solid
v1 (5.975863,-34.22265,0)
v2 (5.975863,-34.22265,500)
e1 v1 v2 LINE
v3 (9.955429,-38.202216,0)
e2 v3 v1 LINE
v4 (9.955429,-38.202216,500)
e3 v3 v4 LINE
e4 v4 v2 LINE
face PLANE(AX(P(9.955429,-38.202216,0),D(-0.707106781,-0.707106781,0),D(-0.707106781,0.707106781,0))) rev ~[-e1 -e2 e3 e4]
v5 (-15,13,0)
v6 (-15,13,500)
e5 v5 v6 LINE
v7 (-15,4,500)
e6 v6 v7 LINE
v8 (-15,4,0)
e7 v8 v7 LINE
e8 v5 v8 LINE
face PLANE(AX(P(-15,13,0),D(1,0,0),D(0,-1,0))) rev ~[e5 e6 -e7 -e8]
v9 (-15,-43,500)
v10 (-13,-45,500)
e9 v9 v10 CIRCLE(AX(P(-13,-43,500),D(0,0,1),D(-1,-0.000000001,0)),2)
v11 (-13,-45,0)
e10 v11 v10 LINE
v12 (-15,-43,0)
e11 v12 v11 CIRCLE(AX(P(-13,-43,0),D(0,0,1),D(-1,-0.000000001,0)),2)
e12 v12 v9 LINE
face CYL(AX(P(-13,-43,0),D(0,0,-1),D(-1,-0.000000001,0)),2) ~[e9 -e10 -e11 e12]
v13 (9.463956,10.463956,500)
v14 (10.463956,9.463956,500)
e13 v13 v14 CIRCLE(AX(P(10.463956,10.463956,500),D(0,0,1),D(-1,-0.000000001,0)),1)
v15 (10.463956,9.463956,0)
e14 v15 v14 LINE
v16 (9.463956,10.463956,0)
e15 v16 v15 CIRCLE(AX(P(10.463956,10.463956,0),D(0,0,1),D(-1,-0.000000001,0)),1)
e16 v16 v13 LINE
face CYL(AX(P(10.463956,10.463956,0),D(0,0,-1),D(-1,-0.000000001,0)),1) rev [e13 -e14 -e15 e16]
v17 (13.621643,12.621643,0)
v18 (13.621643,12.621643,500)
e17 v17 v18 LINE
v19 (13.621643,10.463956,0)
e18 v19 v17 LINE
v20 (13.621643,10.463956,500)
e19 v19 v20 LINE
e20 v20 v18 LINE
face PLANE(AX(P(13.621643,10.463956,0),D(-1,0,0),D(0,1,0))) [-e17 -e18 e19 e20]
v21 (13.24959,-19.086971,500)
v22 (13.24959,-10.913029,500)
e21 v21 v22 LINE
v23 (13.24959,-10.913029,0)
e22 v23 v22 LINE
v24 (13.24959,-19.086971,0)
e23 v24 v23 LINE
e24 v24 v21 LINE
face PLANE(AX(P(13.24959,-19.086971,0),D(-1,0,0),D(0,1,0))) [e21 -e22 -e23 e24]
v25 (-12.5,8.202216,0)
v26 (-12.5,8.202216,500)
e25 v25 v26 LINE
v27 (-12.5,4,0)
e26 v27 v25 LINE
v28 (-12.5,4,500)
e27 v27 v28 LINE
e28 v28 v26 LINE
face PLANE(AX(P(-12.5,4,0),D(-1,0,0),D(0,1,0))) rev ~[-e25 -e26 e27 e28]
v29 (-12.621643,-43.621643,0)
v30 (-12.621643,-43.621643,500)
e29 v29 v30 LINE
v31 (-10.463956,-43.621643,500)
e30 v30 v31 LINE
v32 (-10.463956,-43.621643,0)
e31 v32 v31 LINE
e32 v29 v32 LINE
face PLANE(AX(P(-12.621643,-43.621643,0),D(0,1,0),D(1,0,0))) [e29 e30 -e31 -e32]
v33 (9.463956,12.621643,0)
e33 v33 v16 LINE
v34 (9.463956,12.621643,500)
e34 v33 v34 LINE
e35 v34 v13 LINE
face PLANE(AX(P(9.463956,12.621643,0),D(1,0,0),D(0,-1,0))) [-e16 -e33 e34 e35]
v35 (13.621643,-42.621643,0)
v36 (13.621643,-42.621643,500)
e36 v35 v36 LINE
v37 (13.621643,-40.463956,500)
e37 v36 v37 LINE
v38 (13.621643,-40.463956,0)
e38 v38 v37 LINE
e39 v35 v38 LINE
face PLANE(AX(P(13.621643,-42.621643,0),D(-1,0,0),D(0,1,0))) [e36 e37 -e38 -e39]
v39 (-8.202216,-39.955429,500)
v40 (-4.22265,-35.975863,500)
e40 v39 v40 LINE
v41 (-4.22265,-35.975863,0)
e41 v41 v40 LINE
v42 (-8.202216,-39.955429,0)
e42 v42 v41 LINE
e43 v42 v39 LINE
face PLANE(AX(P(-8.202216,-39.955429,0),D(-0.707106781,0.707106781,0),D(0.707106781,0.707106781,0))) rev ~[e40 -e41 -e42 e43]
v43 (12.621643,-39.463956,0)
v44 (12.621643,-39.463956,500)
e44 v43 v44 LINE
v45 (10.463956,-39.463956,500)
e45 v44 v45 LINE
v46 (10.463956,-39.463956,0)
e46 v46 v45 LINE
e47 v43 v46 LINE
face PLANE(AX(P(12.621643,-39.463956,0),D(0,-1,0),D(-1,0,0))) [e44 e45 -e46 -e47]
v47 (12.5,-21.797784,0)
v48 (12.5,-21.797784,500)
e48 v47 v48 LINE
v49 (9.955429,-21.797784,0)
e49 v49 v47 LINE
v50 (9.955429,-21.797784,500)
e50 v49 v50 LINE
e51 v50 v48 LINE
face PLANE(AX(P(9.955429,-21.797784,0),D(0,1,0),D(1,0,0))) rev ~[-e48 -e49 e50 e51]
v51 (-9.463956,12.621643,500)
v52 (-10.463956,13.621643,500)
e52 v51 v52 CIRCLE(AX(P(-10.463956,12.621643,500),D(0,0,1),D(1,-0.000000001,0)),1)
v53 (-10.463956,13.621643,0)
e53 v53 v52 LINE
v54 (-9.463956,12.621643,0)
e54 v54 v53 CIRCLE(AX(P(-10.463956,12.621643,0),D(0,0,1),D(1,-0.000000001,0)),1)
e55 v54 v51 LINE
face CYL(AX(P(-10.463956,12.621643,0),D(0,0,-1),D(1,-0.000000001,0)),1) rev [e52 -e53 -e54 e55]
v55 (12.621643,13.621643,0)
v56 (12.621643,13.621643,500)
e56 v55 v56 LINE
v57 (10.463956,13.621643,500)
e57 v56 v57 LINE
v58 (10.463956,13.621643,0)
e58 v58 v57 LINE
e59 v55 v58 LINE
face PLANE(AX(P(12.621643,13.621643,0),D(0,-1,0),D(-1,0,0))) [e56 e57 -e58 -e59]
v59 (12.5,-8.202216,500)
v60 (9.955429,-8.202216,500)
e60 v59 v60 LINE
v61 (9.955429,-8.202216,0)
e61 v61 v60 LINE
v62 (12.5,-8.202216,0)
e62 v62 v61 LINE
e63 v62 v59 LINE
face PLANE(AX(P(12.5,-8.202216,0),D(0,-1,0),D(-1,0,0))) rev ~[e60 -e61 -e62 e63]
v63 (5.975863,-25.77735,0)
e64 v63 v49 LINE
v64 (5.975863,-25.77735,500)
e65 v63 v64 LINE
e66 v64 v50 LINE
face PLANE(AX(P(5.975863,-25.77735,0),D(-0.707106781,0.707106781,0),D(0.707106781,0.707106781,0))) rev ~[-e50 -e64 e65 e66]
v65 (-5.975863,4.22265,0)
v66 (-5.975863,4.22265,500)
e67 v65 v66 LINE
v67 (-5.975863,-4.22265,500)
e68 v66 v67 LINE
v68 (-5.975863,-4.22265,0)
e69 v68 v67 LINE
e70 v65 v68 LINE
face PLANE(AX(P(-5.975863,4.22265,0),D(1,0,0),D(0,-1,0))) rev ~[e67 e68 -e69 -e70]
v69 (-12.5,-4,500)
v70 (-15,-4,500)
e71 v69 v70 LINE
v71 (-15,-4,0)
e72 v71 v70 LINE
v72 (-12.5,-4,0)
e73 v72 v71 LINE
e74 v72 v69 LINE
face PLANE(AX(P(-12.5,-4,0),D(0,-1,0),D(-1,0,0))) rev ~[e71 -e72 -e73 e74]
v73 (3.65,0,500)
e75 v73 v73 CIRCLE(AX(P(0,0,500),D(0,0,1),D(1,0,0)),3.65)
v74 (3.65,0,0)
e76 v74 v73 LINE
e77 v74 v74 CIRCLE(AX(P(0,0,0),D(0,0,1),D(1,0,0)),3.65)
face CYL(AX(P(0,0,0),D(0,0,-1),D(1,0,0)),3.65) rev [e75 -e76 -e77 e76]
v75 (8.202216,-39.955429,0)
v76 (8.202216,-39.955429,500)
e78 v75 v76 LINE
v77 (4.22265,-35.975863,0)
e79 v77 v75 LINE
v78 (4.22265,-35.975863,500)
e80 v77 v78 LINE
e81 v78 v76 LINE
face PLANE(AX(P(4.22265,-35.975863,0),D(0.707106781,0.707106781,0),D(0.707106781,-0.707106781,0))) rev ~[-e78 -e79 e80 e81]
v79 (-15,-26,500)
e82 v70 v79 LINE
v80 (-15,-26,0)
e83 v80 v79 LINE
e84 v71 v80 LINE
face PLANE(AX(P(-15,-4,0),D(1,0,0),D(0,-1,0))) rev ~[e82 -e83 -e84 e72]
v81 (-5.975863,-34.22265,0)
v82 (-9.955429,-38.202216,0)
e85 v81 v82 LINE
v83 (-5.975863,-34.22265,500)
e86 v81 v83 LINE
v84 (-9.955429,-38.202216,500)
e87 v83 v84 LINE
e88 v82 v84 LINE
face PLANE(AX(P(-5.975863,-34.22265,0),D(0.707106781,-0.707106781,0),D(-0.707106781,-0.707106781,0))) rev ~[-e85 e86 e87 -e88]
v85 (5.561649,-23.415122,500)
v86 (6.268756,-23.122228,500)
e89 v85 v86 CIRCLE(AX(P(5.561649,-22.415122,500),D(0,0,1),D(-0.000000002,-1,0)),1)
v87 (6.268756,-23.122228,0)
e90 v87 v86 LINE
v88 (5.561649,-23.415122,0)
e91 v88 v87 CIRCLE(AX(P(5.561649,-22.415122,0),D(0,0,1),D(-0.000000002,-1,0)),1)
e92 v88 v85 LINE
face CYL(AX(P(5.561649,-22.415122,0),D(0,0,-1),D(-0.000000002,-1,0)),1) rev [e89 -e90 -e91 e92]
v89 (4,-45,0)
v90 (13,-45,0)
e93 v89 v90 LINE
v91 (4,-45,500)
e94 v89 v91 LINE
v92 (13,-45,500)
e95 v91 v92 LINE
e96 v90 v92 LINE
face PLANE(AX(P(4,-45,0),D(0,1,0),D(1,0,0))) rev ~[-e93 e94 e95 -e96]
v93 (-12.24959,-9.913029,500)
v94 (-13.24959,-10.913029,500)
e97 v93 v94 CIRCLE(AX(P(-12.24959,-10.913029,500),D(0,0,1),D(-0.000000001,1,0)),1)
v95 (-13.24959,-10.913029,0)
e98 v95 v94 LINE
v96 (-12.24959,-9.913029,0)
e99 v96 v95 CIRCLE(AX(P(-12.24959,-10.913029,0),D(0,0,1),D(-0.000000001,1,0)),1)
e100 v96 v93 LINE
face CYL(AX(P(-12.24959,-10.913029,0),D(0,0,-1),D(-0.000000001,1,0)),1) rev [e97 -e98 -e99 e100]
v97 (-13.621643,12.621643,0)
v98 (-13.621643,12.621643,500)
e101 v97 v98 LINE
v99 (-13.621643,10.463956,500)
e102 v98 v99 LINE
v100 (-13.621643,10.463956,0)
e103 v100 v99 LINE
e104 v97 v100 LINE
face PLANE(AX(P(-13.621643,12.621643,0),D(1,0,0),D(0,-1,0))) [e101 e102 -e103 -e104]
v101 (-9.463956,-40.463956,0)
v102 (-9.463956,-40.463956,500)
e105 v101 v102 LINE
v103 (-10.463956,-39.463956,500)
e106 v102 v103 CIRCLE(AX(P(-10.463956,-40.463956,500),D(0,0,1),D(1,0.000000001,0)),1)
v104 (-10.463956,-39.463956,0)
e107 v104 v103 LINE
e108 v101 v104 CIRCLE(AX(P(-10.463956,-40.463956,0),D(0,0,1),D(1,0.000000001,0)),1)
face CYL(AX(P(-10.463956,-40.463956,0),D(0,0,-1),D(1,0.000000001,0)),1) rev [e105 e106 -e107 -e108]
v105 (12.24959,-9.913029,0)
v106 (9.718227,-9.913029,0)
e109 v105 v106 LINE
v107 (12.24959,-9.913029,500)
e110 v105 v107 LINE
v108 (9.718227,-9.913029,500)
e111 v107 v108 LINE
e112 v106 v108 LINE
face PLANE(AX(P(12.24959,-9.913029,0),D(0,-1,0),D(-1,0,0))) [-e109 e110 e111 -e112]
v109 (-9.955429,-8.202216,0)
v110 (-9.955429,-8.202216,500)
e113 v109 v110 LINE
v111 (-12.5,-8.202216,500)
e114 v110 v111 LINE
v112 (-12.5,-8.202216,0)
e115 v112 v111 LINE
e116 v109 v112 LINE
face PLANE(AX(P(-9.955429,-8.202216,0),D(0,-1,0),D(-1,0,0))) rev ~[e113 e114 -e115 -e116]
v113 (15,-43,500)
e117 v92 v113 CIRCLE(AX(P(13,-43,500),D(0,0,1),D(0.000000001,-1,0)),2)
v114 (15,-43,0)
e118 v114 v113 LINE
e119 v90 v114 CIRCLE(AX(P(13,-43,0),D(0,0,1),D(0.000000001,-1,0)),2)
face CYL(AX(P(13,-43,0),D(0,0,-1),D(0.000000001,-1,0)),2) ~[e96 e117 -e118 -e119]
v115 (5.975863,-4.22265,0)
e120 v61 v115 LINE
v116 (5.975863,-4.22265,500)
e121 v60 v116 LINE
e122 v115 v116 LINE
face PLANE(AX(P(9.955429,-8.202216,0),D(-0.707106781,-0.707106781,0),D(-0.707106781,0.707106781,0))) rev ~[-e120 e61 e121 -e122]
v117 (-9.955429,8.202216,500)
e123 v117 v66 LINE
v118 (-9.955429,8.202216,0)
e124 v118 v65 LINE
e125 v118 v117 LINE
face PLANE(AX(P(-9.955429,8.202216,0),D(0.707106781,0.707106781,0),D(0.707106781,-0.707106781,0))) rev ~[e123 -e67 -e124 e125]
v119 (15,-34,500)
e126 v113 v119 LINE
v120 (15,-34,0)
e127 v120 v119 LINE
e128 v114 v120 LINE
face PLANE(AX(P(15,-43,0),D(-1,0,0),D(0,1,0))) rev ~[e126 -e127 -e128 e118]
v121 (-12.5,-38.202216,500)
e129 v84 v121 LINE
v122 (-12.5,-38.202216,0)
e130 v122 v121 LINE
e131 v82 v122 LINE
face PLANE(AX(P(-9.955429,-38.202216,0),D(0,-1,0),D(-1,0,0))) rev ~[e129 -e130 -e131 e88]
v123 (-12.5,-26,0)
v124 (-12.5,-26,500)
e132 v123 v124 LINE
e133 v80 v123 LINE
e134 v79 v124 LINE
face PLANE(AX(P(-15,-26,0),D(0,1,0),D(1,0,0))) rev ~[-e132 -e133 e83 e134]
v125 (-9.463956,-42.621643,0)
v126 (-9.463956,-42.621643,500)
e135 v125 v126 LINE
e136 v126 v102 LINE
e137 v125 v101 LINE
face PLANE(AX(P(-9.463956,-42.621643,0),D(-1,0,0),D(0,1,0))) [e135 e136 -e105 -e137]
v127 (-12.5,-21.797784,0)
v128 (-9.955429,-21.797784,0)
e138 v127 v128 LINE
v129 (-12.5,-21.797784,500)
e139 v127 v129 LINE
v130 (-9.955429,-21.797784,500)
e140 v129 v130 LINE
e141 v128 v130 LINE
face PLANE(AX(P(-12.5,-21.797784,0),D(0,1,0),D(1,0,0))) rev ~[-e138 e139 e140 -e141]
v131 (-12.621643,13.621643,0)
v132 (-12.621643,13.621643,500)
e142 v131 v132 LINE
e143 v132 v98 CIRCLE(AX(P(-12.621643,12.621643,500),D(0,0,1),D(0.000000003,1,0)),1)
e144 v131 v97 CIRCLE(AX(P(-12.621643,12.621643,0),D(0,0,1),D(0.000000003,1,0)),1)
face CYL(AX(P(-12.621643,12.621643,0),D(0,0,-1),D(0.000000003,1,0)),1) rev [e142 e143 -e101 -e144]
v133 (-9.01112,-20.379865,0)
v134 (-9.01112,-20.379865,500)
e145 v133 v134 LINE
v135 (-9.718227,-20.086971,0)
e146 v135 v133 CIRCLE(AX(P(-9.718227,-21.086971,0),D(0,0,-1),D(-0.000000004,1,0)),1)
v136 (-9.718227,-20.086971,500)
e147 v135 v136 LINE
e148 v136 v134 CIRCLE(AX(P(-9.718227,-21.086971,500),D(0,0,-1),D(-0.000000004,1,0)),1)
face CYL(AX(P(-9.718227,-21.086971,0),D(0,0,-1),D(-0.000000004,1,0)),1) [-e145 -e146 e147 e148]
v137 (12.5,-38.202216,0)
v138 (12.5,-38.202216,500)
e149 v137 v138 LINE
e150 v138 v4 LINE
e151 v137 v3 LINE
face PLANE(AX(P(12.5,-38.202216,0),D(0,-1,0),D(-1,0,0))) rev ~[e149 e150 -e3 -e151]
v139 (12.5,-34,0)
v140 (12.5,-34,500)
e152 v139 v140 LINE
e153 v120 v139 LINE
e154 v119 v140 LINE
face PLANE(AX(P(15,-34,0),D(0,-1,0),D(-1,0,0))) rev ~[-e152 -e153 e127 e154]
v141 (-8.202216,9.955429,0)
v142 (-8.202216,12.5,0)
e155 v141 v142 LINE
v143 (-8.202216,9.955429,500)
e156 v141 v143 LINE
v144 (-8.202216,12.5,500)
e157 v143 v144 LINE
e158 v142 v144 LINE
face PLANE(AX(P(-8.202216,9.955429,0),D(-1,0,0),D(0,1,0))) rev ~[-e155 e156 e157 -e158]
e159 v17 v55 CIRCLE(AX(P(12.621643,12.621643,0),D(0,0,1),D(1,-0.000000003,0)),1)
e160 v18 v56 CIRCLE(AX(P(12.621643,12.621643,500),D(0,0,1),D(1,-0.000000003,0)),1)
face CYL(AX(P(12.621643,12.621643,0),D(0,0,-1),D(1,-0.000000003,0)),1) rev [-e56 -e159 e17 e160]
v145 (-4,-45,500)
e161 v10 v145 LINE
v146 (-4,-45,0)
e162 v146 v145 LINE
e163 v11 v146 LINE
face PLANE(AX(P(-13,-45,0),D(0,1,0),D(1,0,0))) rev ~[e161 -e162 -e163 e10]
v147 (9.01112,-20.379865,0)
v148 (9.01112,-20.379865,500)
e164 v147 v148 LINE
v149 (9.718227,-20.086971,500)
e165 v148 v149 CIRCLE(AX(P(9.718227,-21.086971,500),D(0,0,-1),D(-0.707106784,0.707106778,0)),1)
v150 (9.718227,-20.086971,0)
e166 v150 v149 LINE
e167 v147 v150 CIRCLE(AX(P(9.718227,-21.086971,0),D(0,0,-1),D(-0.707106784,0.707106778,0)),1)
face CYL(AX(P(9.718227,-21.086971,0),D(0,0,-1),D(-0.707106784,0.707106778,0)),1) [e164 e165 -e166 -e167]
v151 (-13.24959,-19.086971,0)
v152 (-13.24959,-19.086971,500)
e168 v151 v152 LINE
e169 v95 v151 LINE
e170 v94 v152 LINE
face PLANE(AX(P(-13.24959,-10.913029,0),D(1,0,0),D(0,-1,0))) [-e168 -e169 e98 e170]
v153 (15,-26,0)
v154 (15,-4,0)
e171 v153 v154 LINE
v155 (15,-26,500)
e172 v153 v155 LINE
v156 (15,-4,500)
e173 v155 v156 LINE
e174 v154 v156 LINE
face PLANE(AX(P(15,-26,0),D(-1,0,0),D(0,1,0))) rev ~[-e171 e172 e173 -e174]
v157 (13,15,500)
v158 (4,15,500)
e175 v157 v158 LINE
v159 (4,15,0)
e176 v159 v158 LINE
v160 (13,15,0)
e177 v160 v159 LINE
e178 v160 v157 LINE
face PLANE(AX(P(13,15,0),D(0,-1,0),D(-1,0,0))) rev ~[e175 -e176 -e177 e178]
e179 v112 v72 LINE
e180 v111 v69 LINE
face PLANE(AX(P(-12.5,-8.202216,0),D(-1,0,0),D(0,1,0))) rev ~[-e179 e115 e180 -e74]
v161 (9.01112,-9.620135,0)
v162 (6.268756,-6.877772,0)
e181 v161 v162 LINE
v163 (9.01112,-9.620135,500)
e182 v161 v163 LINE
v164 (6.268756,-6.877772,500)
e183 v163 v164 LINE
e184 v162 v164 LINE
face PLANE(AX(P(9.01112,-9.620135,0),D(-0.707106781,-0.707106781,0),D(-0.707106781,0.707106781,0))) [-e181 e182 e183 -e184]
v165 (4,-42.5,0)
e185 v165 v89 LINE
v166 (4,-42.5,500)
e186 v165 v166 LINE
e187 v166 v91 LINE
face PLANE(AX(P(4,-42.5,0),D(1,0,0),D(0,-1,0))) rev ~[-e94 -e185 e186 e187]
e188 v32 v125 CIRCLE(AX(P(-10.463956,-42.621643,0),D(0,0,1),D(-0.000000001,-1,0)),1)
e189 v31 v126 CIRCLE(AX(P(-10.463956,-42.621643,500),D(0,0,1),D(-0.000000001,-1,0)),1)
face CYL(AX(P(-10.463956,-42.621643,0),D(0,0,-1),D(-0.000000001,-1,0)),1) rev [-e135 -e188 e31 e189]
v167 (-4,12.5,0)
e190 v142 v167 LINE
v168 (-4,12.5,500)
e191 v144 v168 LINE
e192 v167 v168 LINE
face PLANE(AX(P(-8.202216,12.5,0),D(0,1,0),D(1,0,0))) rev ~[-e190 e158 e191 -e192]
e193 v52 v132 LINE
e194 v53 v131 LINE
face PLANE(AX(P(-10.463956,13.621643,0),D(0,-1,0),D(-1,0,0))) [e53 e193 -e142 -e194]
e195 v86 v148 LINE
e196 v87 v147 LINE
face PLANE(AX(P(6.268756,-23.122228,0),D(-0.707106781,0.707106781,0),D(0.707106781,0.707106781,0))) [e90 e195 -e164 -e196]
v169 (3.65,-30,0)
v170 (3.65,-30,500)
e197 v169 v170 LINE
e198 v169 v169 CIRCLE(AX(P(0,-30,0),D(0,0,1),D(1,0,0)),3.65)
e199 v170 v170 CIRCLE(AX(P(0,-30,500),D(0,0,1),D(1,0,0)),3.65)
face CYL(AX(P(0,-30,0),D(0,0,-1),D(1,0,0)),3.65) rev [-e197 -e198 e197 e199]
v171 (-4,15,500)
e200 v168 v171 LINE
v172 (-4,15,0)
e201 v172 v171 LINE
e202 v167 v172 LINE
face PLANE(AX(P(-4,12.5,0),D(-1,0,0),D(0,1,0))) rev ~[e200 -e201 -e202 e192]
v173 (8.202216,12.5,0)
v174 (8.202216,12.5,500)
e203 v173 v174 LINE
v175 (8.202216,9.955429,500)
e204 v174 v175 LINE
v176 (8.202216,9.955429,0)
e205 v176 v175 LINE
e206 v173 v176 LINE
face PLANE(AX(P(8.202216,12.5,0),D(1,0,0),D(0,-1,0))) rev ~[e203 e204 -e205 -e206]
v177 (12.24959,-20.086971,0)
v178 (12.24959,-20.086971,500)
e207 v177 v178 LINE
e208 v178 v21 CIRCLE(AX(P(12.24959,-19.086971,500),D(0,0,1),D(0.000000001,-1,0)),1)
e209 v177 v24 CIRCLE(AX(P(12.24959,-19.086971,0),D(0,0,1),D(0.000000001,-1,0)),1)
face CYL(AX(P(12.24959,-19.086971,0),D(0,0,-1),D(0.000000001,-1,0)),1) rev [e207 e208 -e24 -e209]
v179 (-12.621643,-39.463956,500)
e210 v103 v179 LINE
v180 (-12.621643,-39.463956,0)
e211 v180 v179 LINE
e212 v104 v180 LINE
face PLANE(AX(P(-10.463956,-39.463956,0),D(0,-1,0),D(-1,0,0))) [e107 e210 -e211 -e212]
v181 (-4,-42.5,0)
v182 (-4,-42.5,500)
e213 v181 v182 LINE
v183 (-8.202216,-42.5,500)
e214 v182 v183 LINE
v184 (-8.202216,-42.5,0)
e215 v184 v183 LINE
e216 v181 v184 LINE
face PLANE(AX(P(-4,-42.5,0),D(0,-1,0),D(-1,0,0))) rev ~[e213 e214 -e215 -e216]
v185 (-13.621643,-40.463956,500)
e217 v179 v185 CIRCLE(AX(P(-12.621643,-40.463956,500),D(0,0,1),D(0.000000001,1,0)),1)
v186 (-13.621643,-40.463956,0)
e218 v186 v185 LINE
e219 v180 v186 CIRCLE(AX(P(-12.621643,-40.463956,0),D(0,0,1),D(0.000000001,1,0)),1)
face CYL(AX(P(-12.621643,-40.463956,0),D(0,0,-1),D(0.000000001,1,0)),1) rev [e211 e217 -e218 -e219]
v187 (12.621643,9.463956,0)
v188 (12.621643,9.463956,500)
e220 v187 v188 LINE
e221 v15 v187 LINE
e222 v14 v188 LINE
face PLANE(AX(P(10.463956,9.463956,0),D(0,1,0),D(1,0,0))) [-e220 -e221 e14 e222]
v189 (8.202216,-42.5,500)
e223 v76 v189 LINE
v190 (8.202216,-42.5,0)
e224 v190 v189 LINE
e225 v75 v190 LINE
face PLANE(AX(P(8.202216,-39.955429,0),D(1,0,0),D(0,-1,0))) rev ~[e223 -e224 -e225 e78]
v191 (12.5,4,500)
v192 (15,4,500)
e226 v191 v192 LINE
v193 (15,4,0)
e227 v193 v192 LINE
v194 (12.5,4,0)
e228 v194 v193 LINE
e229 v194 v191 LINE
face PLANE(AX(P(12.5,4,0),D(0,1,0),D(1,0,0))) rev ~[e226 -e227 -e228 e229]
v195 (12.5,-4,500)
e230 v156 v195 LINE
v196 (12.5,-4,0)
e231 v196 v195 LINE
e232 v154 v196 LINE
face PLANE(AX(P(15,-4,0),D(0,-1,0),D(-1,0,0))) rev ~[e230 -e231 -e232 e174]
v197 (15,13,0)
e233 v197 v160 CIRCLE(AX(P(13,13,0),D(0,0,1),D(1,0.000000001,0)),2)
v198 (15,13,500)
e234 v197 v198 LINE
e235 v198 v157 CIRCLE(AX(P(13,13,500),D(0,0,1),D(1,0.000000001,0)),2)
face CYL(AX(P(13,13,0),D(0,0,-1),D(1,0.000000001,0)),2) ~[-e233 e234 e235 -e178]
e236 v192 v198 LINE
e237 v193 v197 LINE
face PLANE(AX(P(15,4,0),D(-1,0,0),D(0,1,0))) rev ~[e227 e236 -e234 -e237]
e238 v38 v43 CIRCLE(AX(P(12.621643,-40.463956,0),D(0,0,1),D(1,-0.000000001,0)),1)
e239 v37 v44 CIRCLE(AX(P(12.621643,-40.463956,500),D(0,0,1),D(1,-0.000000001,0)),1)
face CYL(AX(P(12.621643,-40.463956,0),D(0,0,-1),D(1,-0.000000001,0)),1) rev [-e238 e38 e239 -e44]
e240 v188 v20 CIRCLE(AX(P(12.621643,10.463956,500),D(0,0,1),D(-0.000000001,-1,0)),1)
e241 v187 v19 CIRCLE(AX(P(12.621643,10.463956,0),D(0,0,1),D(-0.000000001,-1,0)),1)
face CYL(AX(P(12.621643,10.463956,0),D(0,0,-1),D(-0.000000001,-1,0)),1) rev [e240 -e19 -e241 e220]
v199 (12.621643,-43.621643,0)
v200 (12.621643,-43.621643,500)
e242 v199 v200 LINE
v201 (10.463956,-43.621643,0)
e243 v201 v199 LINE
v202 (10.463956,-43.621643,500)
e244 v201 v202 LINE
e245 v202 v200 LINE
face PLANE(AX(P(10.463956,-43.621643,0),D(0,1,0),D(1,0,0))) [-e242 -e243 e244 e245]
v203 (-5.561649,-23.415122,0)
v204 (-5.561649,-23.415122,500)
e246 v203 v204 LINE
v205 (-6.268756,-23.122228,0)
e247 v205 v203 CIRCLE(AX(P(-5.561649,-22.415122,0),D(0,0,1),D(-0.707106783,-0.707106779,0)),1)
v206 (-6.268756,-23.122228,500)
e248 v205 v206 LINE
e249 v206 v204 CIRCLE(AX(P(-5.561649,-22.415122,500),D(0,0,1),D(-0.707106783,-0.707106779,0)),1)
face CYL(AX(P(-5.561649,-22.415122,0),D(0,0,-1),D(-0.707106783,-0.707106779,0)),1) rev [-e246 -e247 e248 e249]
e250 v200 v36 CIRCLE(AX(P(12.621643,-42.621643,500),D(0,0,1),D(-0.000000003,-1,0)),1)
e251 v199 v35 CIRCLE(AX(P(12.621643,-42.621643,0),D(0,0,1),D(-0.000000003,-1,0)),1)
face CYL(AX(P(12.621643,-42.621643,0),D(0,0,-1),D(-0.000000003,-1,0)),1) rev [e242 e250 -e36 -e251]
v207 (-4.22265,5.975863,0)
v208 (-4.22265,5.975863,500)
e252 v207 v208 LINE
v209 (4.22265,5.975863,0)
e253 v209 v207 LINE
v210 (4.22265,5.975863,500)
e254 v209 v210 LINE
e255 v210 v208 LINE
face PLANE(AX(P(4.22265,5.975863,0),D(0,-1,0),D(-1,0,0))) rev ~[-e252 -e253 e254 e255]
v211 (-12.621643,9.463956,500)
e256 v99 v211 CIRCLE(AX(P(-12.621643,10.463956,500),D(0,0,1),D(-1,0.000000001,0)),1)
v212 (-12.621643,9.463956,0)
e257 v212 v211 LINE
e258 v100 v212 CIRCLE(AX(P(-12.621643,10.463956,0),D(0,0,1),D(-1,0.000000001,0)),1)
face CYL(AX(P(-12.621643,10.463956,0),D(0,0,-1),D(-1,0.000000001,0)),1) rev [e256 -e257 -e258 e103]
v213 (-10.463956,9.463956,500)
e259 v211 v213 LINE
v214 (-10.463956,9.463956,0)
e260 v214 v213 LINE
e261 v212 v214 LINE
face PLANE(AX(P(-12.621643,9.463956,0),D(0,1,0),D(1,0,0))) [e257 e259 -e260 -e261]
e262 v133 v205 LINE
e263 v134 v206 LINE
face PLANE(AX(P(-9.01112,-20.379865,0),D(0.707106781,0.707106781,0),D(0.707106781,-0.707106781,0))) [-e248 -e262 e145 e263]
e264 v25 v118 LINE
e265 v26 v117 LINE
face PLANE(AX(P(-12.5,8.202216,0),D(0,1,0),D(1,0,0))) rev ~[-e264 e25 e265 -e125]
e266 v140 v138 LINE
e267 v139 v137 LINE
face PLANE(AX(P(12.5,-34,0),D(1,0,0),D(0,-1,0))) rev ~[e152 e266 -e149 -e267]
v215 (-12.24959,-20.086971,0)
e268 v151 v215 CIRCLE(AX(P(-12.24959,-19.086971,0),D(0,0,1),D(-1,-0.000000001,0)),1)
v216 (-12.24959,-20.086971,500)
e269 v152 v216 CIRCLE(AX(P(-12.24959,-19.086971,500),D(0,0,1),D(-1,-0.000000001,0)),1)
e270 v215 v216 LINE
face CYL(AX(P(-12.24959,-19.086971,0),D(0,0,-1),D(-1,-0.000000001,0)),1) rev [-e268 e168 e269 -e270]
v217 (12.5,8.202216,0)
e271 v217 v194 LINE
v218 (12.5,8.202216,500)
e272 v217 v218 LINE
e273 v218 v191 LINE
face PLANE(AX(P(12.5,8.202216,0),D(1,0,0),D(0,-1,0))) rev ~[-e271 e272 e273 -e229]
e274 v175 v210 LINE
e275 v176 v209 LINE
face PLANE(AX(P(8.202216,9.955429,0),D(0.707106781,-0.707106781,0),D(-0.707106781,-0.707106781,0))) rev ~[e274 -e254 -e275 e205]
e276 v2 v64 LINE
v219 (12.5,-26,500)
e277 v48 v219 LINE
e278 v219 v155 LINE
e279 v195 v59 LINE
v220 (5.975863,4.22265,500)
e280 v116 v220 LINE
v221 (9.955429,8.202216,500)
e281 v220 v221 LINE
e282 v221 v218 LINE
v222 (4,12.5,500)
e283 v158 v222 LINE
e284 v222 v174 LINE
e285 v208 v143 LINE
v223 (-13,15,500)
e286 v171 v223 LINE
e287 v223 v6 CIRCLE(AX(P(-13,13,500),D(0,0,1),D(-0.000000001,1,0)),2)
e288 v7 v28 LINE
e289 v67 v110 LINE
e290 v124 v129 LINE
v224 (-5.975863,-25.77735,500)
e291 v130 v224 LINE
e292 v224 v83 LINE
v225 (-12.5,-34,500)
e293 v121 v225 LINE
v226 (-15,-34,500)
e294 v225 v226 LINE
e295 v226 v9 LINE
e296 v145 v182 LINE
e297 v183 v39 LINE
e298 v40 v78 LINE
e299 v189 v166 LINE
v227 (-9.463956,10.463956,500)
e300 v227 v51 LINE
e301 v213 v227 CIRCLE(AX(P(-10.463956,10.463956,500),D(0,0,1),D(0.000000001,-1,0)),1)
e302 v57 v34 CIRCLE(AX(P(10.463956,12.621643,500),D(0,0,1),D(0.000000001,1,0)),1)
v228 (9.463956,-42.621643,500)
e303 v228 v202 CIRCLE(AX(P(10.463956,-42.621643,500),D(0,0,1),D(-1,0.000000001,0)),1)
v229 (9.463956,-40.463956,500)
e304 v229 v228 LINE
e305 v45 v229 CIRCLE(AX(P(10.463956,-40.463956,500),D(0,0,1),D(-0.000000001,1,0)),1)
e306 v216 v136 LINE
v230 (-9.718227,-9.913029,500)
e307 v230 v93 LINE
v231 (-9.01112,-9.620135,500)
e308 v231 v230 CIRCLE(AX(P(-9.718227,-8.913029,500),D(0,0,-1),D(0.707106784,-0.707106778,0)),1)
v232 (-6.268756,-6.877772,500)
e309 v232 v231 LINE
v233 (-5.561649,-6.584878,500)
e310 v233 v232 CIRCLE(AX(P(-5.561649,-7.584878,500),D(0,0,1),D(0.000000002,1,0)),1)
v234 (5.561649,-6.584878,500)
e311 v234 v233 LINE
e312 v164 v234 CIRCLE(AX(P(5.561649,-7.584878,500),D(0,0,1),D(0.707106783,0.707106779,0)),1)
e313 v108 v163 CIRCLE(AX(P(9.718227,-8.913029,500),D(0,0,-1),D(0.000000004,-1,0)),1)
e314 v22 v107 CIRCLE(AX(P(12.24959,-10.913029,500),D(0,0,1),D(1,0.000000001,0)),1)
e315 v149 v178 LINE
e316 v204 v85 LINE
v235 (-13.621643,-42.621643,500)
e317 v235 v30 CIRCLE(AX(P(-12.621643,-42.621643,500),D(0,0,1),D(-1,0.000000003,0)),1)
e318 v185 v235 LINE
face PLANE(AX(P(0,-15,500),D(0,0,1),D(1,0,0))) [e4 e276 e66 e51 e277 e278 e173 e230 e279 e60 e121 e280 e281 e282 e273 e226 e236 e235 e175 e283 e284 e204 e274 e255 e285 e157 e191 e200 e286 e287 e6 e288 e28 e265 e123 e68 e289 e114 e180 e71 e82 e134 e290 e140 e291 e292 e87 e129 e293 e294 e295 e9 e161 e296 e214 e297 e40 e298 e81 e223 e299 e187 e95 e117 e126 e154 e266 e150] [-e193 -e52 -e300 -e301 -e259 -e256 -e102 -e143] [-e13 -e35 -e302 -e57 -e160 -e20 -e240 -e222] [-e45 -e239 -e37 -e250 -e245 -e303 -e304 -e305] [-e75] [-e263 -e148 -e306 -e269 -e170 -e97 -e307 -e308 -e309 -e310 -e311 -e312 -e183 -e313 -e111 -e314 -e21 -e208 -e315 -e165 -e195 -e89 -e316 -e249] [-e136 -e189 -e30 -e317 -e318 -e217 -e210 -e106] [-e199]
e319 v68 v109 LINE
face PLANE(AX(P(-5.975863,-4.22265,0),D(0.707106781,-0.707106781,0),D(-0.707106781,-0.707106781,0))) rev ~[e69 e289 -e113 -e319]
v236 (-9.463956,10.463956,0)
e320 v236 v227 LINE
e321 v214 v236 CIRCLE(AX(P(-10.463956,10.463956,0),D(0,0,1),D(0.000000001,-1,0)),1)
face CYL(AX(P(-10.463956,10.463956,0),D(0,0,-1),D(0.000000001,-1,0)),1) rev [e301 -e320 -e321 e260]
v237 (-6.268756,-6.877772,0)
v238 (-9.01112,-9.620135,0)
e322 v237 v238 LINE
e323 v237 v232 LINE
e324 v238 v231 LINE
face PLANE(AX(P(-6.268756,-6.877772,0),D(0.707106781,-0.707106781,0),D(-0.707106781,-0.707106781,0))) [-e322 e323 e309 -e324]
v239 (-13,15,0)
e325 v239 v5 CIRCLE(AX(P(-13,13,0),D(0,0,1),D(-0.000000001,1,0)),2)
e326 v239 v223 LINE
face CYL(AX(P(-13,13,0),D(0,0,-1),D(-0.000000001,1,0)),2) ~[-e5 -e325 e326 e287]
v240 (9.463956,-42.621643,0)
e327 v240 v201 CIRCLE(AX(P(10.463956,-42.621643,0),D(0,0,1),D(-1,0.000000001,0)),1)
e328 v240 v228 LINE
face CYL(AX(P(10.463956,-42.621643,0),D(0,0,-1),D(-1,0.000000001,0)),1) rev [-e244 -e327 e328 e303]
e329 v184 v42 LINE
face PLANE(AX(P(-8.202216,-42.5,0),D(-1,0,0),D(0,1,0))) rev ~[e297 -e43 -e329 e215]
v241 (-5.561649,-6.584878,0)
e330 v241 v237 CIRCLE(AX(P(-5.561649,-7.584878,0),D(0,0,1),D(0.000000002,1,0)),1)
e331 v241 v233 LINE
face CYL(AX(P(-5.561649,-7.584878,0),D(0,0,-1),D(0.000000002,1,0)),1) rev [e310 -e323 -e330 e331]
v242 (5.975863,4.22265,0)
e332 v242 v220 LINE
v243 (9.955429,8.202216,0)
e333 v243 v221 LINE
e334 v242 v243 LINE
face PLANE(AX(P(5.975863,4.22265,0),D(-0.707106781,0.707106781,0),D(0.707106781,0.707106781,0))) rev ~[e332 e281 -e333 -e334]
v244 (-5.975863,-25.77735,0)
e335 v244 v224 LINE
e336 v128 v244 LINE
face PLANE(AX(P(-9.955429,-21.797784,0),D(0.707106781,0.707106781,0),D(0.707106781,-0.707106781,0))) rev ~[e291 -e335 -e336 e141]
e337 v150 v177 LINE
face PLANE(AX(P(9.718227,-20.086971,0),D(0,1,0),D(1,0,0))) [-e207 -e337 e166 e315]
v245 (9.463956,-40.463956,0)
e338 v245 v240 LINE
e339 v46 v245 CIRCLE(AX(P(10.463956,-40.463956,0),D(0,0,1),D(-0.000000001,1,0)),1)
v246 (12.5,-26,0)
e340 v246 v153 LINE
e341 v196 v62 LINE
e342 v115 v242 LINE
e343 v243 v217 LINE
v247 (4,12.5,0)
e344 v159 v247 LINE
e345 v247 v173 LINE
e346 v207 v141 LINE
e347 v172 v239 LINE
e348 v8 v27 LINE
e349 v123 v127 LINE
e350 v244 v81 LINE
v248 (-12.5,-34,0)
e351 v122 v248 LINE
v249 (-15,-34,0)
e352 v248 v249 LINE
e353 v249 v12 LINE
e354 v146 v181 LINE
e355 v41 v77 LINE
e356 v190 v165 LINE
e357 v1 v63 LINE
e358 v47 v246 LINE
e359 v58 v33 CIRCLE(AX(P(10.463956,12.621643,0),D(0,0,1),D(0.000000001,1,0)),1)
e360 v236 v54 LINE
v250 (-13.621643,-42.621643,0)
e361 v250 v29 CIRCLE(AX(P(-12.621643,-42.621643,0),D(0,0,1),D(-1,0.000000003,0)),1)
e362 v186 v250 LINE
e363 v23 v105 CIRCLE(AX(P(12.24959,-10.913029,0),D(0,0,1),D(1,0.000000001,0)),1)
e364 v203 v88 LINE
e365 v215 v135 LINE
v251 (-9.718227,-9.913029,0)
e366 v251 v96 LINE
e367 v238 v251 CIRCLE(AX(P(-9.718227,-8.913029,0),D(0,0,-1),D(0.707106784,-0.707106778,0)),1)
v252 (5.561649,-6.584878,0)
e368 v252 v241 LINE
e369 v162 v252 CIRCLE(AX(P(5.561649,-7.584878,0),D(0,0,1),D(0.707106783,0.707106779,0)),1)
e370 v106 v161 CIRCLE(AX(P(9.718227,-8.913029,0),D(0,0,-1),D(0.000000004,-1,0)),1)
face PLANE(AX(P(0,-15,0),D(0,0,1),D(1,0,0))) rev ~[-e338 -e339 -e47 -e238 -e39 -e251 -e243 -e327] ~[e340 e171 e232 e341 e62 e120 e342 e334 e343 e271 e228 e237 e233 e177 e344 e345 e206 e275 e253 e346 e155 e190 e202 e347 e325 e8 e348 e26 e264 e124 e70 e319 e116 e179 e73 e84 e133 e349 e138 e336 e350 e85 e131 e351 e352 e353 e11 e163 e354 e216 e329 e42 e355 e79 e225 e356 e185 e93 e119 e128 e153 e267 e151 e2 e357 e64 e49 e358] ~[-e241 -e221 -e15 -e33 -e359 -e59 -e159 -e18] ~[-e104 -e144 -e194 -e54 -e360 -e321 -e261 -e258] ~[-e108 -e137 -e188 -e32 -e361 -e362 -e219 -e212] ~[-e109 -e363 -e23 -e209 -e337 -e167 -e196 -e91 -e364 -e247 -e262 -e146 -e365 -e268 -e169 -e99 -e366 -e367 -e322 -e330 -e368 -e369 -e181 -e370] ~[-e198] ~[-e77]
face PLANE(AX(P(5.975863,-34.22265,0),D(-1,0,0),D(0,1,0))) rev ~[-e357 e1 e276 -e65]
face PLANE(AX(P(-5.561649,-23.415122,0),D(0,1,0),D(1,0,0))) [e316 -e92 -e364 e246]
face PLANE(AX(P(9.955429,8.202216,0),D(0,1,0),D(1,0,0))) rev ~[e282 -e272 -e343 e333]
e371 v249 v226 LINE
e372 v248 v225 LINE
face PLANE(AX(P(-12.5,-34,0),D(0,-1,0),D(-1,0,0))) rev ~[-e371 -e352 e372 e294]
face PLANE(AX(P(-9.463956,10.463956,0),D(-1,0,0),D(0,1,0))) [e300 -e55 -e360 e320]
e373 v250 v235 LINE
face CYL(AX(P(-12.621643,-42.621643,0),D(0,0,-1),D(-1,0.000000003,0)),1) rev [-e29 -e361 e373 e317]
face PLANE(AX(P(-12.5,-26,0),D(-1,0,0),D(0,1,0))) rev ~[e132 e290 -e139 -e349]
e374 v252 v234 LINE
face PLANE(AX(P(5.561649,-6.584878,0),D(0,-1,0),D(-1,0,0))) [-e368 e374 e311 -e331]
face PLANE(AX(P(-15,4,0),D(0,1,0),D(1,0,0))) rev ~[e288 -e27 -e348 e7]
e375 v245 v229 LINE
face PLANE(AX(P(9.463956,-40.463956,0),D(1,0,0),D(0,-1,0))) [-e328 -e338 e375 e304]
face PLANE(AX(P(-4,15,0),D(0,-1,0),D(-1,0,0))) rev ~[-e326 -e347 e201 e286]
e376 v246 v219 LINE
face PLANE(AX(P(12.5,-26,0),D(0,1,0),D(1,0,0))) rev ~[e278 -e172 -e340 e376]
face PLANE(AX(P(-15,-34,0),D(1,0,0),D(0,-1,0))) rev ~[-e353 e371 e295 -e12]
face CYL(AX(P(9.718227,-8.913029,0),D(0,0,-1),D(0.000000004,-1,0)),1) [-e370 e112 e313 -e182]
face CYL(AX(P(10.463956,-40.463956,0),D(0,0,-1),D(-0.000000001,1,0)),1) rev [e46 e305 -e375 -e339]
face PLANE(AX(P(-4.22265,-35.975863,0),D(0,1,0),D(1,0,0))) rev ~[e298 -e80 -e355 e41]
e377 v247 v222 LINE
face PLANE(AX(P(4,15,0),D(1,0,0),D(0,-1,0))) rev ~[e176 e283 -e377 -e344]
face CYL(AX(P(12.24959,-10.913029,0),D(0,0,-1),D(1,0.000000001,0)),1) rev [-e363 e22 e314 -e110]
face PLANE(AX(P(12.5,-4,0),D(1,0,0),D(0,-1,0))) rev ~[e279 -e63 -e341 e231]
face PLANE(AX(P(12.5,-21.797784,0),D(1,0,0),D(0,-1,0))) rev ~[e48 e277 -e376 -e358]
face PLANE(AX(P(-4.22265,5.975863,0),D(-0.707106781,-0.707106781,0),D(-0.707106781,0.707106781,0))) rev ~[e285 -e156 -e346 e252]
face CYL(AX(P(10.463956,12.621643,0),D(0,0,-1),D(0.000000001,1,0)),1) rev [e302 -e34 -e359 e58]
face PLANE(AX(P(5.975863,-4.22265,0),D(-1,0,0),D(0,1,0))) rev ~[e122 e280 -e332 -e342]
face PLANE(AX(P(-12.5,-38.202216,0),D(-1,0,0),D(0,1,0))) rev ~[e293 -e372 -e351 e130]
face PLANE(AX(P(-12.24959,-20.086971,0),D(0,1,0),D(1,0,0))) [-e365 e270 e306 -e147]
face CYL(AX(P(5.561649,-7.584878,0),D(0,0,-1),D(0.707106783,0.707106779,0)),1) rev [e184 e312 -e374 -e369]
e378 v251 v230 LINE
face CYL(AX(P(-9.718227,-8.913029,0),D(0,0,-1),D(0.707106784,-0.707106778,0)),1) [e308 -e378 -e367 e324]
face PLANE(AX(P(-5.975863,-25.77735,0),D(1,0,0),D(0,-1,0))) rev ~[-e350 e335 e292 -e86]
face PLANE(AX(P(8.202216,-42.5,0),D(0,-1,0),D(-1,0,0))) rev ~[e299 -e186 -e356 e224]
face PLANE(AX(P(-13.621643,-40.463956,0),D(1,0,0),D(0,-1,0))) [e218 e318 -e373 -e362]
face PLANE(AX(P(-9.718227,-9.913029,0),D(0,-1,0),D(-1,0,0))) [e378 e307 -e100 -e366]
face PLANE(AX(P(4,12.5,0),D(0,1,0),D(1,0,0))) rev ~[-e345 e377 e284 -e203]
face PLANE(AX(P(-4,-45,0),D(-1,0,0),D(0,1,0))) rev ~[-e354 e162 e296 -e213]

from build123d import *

# Parameters (mm, degrees)
SKETCH1_R           = 3.65
BOSS_EXTRUDE1_DEPTH = 500


with BuildPart() as part:
    # Sketch1 → Boss-Extrude1 (new body)
    with BuildSketch(Plane.XY):
        with BuildLine():
            Line((-15, -34), (-15, -43))
            ThreePointArc((-15, -43), (-14.414213562, -44.414213562), (-13, -45))
            Line((-13, -45), (-4, -45))
            Line((-4, -45), (-4, -42.5))
            Line((-4, -42.5), (-8.202216073, -42.5))
            Line((-8.202216073, -42.5), (-8.202216073, -39.955429293))
            Line((-8.202216073, -39.955429293), (-4.222649634, -35.975862854))
            Line((-4.222649634, -35.975862854), (4.222649634, -35.975862854))
            Line((4.222649634, -35.975862854), (8.202216073, -39.955429293))
            Line((8.202216073, -39.955429293), (8.202216073, -42.5))
            Line((8.202216073, -42.5), (4, -42.5))
            Line((4, -42.5), (4, -45))
            Line((4, -45), (13, -45))
            ThreePointArc((13, -45), (14.414213562, -44.414213562), (15, -43))
            Line((15, -43), (15, -34))
            Line((15, -34), (12.5, -34))
            Line((12.5, -34), (12.5, -38.202216073))
            Line((12.5, -38.202216073), (9.955429293, -38.202216073))
            Line((9.955429293, -38.202216073), (5.975862854, -34.222649634))
            Line((5.975862854, -34.222649634), (5.975862854, -25.777350366))
            Line((5.975862854, -25.777350366), (9.955429293, -21.797783927))
            Line((9.955429293, -21.797783927), (12.5, -21.797783927))
            Line((12.5, -21.797783927), (12.5, -26))
            Line((12.5, -26), (15, -26))
            Line((15, -26), (15, -4))
            Line((15, -4), (12.5, -4))
            Line((12.5, -4), (12.5, -8.202216073))
            Line((12.5, -8.202216073), (9.955429293, -8.202216073))
            Line((9.955429293, -8.202216073), (5.975862854, -4.222649634))
            Line((5.975862854, -4.222649634), (5.975862854, 4.222649634))
            Line((5.975862854, 4.222649634), (9.955429293, 8.202216073))
            Line((9.955429293, 8.202216073), (12.5, 8.202216073))
            Line((12.5, 8.202216073), (12.5, 4))
            Line((12.5, 4), (15, 4))
            Line((15, 4), (15, 13))
            ThreePointArc((15, 13), (14.414213562, 14.414213562), (13, 15))
            Line((13, 15), (4, 15))
            Line((4, 15), (4, 12.5))
            Line((4, 12.5), (8.202216073, 12.5))
            Line((8.202216073, 12.5), (8.202216073, 9.955429293))
            Line((8.202216073, 9.955429293), (4.222649634, 5.975862854))
            Line((4.222649634, 5.975862854), (-4.222649634, 5.975862854))
            Line((-4.222649634, 5.975862854), (-8.202216073, 9.955429293))
            Line((-8.202216073, 9.955429293), (-8.202216073, 12.5))
            Line((-8.202216073, 12.5), (-4, 12.5))
            Line((-4, 12.5), (-4, 15))
            Line((-4, 15), (-13, 15))
            ThreePointArc((-13, 15), (-14.414213562, 14.414213562), (-15, 13))
            Line((-15, 13), (-15, 4))
            Line((-15, 4), (-12.5, 4))
            Line((-12.5, 4), (-12.5, 8.202216073))
            Line((-12.5, 8.202216073), (-9.955429293, 8.202216073))
            Line((-9.955429293, 8.202216073), (-5.975862854, 4.222649634))
            Line((-5.975862854, 4.222649634), (-5.975862854, -4.222649634))
            Line((-5.975862854, -4.222649634), (-9.955429293, -8.202216073))
            Line((-9.955429293, -8.202216073), (-12.5, -8.202216073))
            Line((-12.5, -8.202216073), (-12.5, -4))
            Line((-12.5, -4), (-15, -4))
            Line((-15, -4), (-15, -26))
            Line((-15, -26), (-12.5, -26))
            Line((-12.5, -26), (-12.5, -21.797783927))
            Line((-12.5, -21.797783927), (-9.955429293, -21.797783927))
            Line((-9.955429293, -21.797783927), (-5.975862854, -25.777350366))
            Line((-5.975862854, -25.777350366), (-5.975862854, -34.222649634))
            Line((-5.975862854, -34.222649634), (-9.955429293, -38.202216073))
            Line((-9.955429293, -38.202216073), (-12.5, -38.202216073))
            Line((-12.5, -38.202216073), (-12.5, -34))
            Line((-12.5, -34), (-15, -34))
        make_face()
        with Locations((0, -30)):
            Circle(SKETCH1_R, mode=Mode.SUBTRACT)
        Circle(SKETCH1_R, mode=Mode.SUBTRACT)
        with BuildLine():
            Line((-10.463955813, -39.463955813), (-12.621642737, -39.463955813))
            ThreePointArc((-12.621642737, -39.463955813), (-13.328749519, -39.756849032), (-13.621642737, -40.463955813))
            Line((-13.621642737, -40.463955813), (-13.621642737, -42.621642737))
            ThreePointArc((-13.621642737, -42.621642737), (-13.328749519, -43.328749519), (-12.621642737, -43.621642737))
            Line((-12.621642737, -43.621642737), (-10.463955813, -43.621642737))
            ThreePointArc((-10.463955813, -43.621642737), (-9.756849032, -43.328749519), (-9.463955813, -42.621642737))
            Line((-9.463955813, -42.621642737), (-9.463955813, -40.463955813))
            ThreePointArc((-9.463955813, -40.463955813), (-9.756849032, -39.756849032), (-10.463955813, -39.463955813))
        make_face(mode=Mode.SUBTRACT)
        with BuildLine():
            Line((9.011119828, -9.620135349), (6.268756073, -6.877771595))
            ThreePointArc((6.268756073, -6.877771595), (5.944332724, -6.660998843), (5.561649292, -6.584878376))
            Line((5.561649292, -6.584878376), (-5.561649292, -6.584878376))
            ThreePointArc((-5.561649292, -6.584878376), (-5.944332724, -6.660998843), (-6.268756073, -6.877771595))
            Line((-6.268756073, -6.877771595), (-9.011119828, -9.620135349))
            ThreePointArc((-9.011119828, -9.620135349), (-9.335543176, -9.836908101), (-9.718226609, -9.913028568))
            Line((-9.718226609, -9.913028568), (-12.249589991, -9.913028568))
            ThreePointArc((-12.249589991, -9.913028568), (-12.956696772, -10.205921787), (-13.249589991, -10.913028568))
            Line((-13.249589991, -10.913028568), (-13.249589991, -19.086971432))
            ThreePointArc((-13.249589991, -19.086971432), (-12.956696772, -19.794078213), (-12.249589991, -20.086971432))
            Line((-12.249589991, -20.086971432), (-9.718226609, -20.086971432))
            ThreePointArc((-9.718226609, -20.086971432), (-9.335543176, -20.163091899), (-9.011119828, -20.379864651))
            Line((-9.011119828, -20.379864651), (-6.268756073, -23.122228405))
            ThreePointArc((-6.268756073, -23.122228405), (-5.944332724, -23.339001157), (-5.561649292, -23.415121624))
            Line((-5.561649292, -23.415121624), (5.561649292, -23.415121624))
            ThreePointArc((5.561649292, -23.415121624), (5.944332724, -23.339001157), (6.268756073, -23.122228405))
            Line((6.268756073, -23.122228405), (9.011119828, -20.379864651))
            ThreePointArc((9.011119828, -20.379864651), (9.335543176, -20.163091899), (9.718226609, -20.086971432))
            Line((9.718226609, -20.086971432), (12.249589991, -20.086971432))
            ThreePointArc((12.249589991, -20.086971432), (12.956696772, -19.794078213), (13.249589991, -19.086971432))
            Line((13.249589991, -19.086971432), (13.249589991, -10.913028568))
            ThreePointArc((13.249589991, -10.913028568), (12.956696772, -10.205921787), (12.249589991, -9.913028568))
            Line((12.249589991, -9.913028568), (9.718226609, -9.913028568))
            ThreePointArc((9.718226609, -9.913028568), (9.335543176, -9.836908101), (9.011119828, -9.620135349))
        make_face(mode=Mode.SUBTRACT)
        with BuildLine():
            Line((9.463955813, -40.463955813), (9.463955813, -42.621642737))
            ThreePointArc((9.463955813, -42.621642737), (9.756849032, -43.328749519), (10.463955813, -43.621642737))
            Line((10.463955813, -43.621642737), (12.621642737, -43.621642737))
            ThreePointArc((12.621642737, -43.621642737), (13.328749519, -43.328749519), (13.621642737, -42.621642737))
            Line((13.621642737, -42.621642737), (13.621642737, -40.463955813))
            ThreePointArc((13.621642737, -40.463955813), (13.328749519, -39.756849032), (12.621642737, -39.463955813))
            Line((12.621642737, -39.463955813), (10.463955813, -39.463955813))
            ThreePointArc((10.463955813, -39.463955813), (9.756849032, -39.756849032), (9.463955813, -40.463955813))
        make_face(mode=Mode.SUBTRACT)
        with BuildLine():
            Line((-9.463955813, 10.463955813), (-9.463955813, 12.621642737))
            ThreePointArc((-9.463955813, 12.621642737), (-9.756849032, 13.328749519), (-10.463955813, 13.621642737))
            Line((-10.463955813, 13.621642737), (-12.621642737, 13.621642737))
            ThreePointArc((-12.621642737, 13.621642737), (-13.328749519, 13.328749519), (-13.621642737, 12.621642737))
            Line((-13.621642737, 12.621642737), (-13.621642737, 10.463955813))
            ThreePointArc((-13.621642737, 10.463955813), (-13.328749519, 9.756849032), (-12.621642737, 9.463955813))
            Line((-12.621642737, 9.463955813), (-10.463955813, 9.463955813))
            ThreePointArc((-10.463955813, 9.463955813), (-9.756849032, 9.756849032), (-9.463955813, 10.463955813))
        make_face(mode=Mode.SUBTRACT)
        with BuildLine():
            Line((10.463955813, 9.463955813), (12.621642737, 9.463955813))
            ThreePointArc((12.621642737, 9.463955813), (13.328749519, 9.756849032), (13.621642737, 10.463955813))
            Line((13.621642737, 10.463955813), (13.621642737, 12.621642737))
            ThreePointArc((13.621642737, 12.621642737), (13.328749519, 13.328749519), (12.621642737, 13.621642737))
            Line((12.621642737, 13.621642737), (10.463955813, 13.621642737))
            ThreePointArc((10.463955813, 13.621642737), (9.756849032, 13.328749519), (9.463955813, 12.621642737))
            Line((9.463955813, 12.621642737), (9.463955813, 10.463955813))
            ThreePointArc((9.463955813, 10.463955813), (9.756849032, 9.756849032), (10.463955813, 9.463955813))
        make_face(mode=Mode.SUBTRACT)
    extrude(amount=BOSS_EXTRUDE1_DEPTH)


solid = part.part
